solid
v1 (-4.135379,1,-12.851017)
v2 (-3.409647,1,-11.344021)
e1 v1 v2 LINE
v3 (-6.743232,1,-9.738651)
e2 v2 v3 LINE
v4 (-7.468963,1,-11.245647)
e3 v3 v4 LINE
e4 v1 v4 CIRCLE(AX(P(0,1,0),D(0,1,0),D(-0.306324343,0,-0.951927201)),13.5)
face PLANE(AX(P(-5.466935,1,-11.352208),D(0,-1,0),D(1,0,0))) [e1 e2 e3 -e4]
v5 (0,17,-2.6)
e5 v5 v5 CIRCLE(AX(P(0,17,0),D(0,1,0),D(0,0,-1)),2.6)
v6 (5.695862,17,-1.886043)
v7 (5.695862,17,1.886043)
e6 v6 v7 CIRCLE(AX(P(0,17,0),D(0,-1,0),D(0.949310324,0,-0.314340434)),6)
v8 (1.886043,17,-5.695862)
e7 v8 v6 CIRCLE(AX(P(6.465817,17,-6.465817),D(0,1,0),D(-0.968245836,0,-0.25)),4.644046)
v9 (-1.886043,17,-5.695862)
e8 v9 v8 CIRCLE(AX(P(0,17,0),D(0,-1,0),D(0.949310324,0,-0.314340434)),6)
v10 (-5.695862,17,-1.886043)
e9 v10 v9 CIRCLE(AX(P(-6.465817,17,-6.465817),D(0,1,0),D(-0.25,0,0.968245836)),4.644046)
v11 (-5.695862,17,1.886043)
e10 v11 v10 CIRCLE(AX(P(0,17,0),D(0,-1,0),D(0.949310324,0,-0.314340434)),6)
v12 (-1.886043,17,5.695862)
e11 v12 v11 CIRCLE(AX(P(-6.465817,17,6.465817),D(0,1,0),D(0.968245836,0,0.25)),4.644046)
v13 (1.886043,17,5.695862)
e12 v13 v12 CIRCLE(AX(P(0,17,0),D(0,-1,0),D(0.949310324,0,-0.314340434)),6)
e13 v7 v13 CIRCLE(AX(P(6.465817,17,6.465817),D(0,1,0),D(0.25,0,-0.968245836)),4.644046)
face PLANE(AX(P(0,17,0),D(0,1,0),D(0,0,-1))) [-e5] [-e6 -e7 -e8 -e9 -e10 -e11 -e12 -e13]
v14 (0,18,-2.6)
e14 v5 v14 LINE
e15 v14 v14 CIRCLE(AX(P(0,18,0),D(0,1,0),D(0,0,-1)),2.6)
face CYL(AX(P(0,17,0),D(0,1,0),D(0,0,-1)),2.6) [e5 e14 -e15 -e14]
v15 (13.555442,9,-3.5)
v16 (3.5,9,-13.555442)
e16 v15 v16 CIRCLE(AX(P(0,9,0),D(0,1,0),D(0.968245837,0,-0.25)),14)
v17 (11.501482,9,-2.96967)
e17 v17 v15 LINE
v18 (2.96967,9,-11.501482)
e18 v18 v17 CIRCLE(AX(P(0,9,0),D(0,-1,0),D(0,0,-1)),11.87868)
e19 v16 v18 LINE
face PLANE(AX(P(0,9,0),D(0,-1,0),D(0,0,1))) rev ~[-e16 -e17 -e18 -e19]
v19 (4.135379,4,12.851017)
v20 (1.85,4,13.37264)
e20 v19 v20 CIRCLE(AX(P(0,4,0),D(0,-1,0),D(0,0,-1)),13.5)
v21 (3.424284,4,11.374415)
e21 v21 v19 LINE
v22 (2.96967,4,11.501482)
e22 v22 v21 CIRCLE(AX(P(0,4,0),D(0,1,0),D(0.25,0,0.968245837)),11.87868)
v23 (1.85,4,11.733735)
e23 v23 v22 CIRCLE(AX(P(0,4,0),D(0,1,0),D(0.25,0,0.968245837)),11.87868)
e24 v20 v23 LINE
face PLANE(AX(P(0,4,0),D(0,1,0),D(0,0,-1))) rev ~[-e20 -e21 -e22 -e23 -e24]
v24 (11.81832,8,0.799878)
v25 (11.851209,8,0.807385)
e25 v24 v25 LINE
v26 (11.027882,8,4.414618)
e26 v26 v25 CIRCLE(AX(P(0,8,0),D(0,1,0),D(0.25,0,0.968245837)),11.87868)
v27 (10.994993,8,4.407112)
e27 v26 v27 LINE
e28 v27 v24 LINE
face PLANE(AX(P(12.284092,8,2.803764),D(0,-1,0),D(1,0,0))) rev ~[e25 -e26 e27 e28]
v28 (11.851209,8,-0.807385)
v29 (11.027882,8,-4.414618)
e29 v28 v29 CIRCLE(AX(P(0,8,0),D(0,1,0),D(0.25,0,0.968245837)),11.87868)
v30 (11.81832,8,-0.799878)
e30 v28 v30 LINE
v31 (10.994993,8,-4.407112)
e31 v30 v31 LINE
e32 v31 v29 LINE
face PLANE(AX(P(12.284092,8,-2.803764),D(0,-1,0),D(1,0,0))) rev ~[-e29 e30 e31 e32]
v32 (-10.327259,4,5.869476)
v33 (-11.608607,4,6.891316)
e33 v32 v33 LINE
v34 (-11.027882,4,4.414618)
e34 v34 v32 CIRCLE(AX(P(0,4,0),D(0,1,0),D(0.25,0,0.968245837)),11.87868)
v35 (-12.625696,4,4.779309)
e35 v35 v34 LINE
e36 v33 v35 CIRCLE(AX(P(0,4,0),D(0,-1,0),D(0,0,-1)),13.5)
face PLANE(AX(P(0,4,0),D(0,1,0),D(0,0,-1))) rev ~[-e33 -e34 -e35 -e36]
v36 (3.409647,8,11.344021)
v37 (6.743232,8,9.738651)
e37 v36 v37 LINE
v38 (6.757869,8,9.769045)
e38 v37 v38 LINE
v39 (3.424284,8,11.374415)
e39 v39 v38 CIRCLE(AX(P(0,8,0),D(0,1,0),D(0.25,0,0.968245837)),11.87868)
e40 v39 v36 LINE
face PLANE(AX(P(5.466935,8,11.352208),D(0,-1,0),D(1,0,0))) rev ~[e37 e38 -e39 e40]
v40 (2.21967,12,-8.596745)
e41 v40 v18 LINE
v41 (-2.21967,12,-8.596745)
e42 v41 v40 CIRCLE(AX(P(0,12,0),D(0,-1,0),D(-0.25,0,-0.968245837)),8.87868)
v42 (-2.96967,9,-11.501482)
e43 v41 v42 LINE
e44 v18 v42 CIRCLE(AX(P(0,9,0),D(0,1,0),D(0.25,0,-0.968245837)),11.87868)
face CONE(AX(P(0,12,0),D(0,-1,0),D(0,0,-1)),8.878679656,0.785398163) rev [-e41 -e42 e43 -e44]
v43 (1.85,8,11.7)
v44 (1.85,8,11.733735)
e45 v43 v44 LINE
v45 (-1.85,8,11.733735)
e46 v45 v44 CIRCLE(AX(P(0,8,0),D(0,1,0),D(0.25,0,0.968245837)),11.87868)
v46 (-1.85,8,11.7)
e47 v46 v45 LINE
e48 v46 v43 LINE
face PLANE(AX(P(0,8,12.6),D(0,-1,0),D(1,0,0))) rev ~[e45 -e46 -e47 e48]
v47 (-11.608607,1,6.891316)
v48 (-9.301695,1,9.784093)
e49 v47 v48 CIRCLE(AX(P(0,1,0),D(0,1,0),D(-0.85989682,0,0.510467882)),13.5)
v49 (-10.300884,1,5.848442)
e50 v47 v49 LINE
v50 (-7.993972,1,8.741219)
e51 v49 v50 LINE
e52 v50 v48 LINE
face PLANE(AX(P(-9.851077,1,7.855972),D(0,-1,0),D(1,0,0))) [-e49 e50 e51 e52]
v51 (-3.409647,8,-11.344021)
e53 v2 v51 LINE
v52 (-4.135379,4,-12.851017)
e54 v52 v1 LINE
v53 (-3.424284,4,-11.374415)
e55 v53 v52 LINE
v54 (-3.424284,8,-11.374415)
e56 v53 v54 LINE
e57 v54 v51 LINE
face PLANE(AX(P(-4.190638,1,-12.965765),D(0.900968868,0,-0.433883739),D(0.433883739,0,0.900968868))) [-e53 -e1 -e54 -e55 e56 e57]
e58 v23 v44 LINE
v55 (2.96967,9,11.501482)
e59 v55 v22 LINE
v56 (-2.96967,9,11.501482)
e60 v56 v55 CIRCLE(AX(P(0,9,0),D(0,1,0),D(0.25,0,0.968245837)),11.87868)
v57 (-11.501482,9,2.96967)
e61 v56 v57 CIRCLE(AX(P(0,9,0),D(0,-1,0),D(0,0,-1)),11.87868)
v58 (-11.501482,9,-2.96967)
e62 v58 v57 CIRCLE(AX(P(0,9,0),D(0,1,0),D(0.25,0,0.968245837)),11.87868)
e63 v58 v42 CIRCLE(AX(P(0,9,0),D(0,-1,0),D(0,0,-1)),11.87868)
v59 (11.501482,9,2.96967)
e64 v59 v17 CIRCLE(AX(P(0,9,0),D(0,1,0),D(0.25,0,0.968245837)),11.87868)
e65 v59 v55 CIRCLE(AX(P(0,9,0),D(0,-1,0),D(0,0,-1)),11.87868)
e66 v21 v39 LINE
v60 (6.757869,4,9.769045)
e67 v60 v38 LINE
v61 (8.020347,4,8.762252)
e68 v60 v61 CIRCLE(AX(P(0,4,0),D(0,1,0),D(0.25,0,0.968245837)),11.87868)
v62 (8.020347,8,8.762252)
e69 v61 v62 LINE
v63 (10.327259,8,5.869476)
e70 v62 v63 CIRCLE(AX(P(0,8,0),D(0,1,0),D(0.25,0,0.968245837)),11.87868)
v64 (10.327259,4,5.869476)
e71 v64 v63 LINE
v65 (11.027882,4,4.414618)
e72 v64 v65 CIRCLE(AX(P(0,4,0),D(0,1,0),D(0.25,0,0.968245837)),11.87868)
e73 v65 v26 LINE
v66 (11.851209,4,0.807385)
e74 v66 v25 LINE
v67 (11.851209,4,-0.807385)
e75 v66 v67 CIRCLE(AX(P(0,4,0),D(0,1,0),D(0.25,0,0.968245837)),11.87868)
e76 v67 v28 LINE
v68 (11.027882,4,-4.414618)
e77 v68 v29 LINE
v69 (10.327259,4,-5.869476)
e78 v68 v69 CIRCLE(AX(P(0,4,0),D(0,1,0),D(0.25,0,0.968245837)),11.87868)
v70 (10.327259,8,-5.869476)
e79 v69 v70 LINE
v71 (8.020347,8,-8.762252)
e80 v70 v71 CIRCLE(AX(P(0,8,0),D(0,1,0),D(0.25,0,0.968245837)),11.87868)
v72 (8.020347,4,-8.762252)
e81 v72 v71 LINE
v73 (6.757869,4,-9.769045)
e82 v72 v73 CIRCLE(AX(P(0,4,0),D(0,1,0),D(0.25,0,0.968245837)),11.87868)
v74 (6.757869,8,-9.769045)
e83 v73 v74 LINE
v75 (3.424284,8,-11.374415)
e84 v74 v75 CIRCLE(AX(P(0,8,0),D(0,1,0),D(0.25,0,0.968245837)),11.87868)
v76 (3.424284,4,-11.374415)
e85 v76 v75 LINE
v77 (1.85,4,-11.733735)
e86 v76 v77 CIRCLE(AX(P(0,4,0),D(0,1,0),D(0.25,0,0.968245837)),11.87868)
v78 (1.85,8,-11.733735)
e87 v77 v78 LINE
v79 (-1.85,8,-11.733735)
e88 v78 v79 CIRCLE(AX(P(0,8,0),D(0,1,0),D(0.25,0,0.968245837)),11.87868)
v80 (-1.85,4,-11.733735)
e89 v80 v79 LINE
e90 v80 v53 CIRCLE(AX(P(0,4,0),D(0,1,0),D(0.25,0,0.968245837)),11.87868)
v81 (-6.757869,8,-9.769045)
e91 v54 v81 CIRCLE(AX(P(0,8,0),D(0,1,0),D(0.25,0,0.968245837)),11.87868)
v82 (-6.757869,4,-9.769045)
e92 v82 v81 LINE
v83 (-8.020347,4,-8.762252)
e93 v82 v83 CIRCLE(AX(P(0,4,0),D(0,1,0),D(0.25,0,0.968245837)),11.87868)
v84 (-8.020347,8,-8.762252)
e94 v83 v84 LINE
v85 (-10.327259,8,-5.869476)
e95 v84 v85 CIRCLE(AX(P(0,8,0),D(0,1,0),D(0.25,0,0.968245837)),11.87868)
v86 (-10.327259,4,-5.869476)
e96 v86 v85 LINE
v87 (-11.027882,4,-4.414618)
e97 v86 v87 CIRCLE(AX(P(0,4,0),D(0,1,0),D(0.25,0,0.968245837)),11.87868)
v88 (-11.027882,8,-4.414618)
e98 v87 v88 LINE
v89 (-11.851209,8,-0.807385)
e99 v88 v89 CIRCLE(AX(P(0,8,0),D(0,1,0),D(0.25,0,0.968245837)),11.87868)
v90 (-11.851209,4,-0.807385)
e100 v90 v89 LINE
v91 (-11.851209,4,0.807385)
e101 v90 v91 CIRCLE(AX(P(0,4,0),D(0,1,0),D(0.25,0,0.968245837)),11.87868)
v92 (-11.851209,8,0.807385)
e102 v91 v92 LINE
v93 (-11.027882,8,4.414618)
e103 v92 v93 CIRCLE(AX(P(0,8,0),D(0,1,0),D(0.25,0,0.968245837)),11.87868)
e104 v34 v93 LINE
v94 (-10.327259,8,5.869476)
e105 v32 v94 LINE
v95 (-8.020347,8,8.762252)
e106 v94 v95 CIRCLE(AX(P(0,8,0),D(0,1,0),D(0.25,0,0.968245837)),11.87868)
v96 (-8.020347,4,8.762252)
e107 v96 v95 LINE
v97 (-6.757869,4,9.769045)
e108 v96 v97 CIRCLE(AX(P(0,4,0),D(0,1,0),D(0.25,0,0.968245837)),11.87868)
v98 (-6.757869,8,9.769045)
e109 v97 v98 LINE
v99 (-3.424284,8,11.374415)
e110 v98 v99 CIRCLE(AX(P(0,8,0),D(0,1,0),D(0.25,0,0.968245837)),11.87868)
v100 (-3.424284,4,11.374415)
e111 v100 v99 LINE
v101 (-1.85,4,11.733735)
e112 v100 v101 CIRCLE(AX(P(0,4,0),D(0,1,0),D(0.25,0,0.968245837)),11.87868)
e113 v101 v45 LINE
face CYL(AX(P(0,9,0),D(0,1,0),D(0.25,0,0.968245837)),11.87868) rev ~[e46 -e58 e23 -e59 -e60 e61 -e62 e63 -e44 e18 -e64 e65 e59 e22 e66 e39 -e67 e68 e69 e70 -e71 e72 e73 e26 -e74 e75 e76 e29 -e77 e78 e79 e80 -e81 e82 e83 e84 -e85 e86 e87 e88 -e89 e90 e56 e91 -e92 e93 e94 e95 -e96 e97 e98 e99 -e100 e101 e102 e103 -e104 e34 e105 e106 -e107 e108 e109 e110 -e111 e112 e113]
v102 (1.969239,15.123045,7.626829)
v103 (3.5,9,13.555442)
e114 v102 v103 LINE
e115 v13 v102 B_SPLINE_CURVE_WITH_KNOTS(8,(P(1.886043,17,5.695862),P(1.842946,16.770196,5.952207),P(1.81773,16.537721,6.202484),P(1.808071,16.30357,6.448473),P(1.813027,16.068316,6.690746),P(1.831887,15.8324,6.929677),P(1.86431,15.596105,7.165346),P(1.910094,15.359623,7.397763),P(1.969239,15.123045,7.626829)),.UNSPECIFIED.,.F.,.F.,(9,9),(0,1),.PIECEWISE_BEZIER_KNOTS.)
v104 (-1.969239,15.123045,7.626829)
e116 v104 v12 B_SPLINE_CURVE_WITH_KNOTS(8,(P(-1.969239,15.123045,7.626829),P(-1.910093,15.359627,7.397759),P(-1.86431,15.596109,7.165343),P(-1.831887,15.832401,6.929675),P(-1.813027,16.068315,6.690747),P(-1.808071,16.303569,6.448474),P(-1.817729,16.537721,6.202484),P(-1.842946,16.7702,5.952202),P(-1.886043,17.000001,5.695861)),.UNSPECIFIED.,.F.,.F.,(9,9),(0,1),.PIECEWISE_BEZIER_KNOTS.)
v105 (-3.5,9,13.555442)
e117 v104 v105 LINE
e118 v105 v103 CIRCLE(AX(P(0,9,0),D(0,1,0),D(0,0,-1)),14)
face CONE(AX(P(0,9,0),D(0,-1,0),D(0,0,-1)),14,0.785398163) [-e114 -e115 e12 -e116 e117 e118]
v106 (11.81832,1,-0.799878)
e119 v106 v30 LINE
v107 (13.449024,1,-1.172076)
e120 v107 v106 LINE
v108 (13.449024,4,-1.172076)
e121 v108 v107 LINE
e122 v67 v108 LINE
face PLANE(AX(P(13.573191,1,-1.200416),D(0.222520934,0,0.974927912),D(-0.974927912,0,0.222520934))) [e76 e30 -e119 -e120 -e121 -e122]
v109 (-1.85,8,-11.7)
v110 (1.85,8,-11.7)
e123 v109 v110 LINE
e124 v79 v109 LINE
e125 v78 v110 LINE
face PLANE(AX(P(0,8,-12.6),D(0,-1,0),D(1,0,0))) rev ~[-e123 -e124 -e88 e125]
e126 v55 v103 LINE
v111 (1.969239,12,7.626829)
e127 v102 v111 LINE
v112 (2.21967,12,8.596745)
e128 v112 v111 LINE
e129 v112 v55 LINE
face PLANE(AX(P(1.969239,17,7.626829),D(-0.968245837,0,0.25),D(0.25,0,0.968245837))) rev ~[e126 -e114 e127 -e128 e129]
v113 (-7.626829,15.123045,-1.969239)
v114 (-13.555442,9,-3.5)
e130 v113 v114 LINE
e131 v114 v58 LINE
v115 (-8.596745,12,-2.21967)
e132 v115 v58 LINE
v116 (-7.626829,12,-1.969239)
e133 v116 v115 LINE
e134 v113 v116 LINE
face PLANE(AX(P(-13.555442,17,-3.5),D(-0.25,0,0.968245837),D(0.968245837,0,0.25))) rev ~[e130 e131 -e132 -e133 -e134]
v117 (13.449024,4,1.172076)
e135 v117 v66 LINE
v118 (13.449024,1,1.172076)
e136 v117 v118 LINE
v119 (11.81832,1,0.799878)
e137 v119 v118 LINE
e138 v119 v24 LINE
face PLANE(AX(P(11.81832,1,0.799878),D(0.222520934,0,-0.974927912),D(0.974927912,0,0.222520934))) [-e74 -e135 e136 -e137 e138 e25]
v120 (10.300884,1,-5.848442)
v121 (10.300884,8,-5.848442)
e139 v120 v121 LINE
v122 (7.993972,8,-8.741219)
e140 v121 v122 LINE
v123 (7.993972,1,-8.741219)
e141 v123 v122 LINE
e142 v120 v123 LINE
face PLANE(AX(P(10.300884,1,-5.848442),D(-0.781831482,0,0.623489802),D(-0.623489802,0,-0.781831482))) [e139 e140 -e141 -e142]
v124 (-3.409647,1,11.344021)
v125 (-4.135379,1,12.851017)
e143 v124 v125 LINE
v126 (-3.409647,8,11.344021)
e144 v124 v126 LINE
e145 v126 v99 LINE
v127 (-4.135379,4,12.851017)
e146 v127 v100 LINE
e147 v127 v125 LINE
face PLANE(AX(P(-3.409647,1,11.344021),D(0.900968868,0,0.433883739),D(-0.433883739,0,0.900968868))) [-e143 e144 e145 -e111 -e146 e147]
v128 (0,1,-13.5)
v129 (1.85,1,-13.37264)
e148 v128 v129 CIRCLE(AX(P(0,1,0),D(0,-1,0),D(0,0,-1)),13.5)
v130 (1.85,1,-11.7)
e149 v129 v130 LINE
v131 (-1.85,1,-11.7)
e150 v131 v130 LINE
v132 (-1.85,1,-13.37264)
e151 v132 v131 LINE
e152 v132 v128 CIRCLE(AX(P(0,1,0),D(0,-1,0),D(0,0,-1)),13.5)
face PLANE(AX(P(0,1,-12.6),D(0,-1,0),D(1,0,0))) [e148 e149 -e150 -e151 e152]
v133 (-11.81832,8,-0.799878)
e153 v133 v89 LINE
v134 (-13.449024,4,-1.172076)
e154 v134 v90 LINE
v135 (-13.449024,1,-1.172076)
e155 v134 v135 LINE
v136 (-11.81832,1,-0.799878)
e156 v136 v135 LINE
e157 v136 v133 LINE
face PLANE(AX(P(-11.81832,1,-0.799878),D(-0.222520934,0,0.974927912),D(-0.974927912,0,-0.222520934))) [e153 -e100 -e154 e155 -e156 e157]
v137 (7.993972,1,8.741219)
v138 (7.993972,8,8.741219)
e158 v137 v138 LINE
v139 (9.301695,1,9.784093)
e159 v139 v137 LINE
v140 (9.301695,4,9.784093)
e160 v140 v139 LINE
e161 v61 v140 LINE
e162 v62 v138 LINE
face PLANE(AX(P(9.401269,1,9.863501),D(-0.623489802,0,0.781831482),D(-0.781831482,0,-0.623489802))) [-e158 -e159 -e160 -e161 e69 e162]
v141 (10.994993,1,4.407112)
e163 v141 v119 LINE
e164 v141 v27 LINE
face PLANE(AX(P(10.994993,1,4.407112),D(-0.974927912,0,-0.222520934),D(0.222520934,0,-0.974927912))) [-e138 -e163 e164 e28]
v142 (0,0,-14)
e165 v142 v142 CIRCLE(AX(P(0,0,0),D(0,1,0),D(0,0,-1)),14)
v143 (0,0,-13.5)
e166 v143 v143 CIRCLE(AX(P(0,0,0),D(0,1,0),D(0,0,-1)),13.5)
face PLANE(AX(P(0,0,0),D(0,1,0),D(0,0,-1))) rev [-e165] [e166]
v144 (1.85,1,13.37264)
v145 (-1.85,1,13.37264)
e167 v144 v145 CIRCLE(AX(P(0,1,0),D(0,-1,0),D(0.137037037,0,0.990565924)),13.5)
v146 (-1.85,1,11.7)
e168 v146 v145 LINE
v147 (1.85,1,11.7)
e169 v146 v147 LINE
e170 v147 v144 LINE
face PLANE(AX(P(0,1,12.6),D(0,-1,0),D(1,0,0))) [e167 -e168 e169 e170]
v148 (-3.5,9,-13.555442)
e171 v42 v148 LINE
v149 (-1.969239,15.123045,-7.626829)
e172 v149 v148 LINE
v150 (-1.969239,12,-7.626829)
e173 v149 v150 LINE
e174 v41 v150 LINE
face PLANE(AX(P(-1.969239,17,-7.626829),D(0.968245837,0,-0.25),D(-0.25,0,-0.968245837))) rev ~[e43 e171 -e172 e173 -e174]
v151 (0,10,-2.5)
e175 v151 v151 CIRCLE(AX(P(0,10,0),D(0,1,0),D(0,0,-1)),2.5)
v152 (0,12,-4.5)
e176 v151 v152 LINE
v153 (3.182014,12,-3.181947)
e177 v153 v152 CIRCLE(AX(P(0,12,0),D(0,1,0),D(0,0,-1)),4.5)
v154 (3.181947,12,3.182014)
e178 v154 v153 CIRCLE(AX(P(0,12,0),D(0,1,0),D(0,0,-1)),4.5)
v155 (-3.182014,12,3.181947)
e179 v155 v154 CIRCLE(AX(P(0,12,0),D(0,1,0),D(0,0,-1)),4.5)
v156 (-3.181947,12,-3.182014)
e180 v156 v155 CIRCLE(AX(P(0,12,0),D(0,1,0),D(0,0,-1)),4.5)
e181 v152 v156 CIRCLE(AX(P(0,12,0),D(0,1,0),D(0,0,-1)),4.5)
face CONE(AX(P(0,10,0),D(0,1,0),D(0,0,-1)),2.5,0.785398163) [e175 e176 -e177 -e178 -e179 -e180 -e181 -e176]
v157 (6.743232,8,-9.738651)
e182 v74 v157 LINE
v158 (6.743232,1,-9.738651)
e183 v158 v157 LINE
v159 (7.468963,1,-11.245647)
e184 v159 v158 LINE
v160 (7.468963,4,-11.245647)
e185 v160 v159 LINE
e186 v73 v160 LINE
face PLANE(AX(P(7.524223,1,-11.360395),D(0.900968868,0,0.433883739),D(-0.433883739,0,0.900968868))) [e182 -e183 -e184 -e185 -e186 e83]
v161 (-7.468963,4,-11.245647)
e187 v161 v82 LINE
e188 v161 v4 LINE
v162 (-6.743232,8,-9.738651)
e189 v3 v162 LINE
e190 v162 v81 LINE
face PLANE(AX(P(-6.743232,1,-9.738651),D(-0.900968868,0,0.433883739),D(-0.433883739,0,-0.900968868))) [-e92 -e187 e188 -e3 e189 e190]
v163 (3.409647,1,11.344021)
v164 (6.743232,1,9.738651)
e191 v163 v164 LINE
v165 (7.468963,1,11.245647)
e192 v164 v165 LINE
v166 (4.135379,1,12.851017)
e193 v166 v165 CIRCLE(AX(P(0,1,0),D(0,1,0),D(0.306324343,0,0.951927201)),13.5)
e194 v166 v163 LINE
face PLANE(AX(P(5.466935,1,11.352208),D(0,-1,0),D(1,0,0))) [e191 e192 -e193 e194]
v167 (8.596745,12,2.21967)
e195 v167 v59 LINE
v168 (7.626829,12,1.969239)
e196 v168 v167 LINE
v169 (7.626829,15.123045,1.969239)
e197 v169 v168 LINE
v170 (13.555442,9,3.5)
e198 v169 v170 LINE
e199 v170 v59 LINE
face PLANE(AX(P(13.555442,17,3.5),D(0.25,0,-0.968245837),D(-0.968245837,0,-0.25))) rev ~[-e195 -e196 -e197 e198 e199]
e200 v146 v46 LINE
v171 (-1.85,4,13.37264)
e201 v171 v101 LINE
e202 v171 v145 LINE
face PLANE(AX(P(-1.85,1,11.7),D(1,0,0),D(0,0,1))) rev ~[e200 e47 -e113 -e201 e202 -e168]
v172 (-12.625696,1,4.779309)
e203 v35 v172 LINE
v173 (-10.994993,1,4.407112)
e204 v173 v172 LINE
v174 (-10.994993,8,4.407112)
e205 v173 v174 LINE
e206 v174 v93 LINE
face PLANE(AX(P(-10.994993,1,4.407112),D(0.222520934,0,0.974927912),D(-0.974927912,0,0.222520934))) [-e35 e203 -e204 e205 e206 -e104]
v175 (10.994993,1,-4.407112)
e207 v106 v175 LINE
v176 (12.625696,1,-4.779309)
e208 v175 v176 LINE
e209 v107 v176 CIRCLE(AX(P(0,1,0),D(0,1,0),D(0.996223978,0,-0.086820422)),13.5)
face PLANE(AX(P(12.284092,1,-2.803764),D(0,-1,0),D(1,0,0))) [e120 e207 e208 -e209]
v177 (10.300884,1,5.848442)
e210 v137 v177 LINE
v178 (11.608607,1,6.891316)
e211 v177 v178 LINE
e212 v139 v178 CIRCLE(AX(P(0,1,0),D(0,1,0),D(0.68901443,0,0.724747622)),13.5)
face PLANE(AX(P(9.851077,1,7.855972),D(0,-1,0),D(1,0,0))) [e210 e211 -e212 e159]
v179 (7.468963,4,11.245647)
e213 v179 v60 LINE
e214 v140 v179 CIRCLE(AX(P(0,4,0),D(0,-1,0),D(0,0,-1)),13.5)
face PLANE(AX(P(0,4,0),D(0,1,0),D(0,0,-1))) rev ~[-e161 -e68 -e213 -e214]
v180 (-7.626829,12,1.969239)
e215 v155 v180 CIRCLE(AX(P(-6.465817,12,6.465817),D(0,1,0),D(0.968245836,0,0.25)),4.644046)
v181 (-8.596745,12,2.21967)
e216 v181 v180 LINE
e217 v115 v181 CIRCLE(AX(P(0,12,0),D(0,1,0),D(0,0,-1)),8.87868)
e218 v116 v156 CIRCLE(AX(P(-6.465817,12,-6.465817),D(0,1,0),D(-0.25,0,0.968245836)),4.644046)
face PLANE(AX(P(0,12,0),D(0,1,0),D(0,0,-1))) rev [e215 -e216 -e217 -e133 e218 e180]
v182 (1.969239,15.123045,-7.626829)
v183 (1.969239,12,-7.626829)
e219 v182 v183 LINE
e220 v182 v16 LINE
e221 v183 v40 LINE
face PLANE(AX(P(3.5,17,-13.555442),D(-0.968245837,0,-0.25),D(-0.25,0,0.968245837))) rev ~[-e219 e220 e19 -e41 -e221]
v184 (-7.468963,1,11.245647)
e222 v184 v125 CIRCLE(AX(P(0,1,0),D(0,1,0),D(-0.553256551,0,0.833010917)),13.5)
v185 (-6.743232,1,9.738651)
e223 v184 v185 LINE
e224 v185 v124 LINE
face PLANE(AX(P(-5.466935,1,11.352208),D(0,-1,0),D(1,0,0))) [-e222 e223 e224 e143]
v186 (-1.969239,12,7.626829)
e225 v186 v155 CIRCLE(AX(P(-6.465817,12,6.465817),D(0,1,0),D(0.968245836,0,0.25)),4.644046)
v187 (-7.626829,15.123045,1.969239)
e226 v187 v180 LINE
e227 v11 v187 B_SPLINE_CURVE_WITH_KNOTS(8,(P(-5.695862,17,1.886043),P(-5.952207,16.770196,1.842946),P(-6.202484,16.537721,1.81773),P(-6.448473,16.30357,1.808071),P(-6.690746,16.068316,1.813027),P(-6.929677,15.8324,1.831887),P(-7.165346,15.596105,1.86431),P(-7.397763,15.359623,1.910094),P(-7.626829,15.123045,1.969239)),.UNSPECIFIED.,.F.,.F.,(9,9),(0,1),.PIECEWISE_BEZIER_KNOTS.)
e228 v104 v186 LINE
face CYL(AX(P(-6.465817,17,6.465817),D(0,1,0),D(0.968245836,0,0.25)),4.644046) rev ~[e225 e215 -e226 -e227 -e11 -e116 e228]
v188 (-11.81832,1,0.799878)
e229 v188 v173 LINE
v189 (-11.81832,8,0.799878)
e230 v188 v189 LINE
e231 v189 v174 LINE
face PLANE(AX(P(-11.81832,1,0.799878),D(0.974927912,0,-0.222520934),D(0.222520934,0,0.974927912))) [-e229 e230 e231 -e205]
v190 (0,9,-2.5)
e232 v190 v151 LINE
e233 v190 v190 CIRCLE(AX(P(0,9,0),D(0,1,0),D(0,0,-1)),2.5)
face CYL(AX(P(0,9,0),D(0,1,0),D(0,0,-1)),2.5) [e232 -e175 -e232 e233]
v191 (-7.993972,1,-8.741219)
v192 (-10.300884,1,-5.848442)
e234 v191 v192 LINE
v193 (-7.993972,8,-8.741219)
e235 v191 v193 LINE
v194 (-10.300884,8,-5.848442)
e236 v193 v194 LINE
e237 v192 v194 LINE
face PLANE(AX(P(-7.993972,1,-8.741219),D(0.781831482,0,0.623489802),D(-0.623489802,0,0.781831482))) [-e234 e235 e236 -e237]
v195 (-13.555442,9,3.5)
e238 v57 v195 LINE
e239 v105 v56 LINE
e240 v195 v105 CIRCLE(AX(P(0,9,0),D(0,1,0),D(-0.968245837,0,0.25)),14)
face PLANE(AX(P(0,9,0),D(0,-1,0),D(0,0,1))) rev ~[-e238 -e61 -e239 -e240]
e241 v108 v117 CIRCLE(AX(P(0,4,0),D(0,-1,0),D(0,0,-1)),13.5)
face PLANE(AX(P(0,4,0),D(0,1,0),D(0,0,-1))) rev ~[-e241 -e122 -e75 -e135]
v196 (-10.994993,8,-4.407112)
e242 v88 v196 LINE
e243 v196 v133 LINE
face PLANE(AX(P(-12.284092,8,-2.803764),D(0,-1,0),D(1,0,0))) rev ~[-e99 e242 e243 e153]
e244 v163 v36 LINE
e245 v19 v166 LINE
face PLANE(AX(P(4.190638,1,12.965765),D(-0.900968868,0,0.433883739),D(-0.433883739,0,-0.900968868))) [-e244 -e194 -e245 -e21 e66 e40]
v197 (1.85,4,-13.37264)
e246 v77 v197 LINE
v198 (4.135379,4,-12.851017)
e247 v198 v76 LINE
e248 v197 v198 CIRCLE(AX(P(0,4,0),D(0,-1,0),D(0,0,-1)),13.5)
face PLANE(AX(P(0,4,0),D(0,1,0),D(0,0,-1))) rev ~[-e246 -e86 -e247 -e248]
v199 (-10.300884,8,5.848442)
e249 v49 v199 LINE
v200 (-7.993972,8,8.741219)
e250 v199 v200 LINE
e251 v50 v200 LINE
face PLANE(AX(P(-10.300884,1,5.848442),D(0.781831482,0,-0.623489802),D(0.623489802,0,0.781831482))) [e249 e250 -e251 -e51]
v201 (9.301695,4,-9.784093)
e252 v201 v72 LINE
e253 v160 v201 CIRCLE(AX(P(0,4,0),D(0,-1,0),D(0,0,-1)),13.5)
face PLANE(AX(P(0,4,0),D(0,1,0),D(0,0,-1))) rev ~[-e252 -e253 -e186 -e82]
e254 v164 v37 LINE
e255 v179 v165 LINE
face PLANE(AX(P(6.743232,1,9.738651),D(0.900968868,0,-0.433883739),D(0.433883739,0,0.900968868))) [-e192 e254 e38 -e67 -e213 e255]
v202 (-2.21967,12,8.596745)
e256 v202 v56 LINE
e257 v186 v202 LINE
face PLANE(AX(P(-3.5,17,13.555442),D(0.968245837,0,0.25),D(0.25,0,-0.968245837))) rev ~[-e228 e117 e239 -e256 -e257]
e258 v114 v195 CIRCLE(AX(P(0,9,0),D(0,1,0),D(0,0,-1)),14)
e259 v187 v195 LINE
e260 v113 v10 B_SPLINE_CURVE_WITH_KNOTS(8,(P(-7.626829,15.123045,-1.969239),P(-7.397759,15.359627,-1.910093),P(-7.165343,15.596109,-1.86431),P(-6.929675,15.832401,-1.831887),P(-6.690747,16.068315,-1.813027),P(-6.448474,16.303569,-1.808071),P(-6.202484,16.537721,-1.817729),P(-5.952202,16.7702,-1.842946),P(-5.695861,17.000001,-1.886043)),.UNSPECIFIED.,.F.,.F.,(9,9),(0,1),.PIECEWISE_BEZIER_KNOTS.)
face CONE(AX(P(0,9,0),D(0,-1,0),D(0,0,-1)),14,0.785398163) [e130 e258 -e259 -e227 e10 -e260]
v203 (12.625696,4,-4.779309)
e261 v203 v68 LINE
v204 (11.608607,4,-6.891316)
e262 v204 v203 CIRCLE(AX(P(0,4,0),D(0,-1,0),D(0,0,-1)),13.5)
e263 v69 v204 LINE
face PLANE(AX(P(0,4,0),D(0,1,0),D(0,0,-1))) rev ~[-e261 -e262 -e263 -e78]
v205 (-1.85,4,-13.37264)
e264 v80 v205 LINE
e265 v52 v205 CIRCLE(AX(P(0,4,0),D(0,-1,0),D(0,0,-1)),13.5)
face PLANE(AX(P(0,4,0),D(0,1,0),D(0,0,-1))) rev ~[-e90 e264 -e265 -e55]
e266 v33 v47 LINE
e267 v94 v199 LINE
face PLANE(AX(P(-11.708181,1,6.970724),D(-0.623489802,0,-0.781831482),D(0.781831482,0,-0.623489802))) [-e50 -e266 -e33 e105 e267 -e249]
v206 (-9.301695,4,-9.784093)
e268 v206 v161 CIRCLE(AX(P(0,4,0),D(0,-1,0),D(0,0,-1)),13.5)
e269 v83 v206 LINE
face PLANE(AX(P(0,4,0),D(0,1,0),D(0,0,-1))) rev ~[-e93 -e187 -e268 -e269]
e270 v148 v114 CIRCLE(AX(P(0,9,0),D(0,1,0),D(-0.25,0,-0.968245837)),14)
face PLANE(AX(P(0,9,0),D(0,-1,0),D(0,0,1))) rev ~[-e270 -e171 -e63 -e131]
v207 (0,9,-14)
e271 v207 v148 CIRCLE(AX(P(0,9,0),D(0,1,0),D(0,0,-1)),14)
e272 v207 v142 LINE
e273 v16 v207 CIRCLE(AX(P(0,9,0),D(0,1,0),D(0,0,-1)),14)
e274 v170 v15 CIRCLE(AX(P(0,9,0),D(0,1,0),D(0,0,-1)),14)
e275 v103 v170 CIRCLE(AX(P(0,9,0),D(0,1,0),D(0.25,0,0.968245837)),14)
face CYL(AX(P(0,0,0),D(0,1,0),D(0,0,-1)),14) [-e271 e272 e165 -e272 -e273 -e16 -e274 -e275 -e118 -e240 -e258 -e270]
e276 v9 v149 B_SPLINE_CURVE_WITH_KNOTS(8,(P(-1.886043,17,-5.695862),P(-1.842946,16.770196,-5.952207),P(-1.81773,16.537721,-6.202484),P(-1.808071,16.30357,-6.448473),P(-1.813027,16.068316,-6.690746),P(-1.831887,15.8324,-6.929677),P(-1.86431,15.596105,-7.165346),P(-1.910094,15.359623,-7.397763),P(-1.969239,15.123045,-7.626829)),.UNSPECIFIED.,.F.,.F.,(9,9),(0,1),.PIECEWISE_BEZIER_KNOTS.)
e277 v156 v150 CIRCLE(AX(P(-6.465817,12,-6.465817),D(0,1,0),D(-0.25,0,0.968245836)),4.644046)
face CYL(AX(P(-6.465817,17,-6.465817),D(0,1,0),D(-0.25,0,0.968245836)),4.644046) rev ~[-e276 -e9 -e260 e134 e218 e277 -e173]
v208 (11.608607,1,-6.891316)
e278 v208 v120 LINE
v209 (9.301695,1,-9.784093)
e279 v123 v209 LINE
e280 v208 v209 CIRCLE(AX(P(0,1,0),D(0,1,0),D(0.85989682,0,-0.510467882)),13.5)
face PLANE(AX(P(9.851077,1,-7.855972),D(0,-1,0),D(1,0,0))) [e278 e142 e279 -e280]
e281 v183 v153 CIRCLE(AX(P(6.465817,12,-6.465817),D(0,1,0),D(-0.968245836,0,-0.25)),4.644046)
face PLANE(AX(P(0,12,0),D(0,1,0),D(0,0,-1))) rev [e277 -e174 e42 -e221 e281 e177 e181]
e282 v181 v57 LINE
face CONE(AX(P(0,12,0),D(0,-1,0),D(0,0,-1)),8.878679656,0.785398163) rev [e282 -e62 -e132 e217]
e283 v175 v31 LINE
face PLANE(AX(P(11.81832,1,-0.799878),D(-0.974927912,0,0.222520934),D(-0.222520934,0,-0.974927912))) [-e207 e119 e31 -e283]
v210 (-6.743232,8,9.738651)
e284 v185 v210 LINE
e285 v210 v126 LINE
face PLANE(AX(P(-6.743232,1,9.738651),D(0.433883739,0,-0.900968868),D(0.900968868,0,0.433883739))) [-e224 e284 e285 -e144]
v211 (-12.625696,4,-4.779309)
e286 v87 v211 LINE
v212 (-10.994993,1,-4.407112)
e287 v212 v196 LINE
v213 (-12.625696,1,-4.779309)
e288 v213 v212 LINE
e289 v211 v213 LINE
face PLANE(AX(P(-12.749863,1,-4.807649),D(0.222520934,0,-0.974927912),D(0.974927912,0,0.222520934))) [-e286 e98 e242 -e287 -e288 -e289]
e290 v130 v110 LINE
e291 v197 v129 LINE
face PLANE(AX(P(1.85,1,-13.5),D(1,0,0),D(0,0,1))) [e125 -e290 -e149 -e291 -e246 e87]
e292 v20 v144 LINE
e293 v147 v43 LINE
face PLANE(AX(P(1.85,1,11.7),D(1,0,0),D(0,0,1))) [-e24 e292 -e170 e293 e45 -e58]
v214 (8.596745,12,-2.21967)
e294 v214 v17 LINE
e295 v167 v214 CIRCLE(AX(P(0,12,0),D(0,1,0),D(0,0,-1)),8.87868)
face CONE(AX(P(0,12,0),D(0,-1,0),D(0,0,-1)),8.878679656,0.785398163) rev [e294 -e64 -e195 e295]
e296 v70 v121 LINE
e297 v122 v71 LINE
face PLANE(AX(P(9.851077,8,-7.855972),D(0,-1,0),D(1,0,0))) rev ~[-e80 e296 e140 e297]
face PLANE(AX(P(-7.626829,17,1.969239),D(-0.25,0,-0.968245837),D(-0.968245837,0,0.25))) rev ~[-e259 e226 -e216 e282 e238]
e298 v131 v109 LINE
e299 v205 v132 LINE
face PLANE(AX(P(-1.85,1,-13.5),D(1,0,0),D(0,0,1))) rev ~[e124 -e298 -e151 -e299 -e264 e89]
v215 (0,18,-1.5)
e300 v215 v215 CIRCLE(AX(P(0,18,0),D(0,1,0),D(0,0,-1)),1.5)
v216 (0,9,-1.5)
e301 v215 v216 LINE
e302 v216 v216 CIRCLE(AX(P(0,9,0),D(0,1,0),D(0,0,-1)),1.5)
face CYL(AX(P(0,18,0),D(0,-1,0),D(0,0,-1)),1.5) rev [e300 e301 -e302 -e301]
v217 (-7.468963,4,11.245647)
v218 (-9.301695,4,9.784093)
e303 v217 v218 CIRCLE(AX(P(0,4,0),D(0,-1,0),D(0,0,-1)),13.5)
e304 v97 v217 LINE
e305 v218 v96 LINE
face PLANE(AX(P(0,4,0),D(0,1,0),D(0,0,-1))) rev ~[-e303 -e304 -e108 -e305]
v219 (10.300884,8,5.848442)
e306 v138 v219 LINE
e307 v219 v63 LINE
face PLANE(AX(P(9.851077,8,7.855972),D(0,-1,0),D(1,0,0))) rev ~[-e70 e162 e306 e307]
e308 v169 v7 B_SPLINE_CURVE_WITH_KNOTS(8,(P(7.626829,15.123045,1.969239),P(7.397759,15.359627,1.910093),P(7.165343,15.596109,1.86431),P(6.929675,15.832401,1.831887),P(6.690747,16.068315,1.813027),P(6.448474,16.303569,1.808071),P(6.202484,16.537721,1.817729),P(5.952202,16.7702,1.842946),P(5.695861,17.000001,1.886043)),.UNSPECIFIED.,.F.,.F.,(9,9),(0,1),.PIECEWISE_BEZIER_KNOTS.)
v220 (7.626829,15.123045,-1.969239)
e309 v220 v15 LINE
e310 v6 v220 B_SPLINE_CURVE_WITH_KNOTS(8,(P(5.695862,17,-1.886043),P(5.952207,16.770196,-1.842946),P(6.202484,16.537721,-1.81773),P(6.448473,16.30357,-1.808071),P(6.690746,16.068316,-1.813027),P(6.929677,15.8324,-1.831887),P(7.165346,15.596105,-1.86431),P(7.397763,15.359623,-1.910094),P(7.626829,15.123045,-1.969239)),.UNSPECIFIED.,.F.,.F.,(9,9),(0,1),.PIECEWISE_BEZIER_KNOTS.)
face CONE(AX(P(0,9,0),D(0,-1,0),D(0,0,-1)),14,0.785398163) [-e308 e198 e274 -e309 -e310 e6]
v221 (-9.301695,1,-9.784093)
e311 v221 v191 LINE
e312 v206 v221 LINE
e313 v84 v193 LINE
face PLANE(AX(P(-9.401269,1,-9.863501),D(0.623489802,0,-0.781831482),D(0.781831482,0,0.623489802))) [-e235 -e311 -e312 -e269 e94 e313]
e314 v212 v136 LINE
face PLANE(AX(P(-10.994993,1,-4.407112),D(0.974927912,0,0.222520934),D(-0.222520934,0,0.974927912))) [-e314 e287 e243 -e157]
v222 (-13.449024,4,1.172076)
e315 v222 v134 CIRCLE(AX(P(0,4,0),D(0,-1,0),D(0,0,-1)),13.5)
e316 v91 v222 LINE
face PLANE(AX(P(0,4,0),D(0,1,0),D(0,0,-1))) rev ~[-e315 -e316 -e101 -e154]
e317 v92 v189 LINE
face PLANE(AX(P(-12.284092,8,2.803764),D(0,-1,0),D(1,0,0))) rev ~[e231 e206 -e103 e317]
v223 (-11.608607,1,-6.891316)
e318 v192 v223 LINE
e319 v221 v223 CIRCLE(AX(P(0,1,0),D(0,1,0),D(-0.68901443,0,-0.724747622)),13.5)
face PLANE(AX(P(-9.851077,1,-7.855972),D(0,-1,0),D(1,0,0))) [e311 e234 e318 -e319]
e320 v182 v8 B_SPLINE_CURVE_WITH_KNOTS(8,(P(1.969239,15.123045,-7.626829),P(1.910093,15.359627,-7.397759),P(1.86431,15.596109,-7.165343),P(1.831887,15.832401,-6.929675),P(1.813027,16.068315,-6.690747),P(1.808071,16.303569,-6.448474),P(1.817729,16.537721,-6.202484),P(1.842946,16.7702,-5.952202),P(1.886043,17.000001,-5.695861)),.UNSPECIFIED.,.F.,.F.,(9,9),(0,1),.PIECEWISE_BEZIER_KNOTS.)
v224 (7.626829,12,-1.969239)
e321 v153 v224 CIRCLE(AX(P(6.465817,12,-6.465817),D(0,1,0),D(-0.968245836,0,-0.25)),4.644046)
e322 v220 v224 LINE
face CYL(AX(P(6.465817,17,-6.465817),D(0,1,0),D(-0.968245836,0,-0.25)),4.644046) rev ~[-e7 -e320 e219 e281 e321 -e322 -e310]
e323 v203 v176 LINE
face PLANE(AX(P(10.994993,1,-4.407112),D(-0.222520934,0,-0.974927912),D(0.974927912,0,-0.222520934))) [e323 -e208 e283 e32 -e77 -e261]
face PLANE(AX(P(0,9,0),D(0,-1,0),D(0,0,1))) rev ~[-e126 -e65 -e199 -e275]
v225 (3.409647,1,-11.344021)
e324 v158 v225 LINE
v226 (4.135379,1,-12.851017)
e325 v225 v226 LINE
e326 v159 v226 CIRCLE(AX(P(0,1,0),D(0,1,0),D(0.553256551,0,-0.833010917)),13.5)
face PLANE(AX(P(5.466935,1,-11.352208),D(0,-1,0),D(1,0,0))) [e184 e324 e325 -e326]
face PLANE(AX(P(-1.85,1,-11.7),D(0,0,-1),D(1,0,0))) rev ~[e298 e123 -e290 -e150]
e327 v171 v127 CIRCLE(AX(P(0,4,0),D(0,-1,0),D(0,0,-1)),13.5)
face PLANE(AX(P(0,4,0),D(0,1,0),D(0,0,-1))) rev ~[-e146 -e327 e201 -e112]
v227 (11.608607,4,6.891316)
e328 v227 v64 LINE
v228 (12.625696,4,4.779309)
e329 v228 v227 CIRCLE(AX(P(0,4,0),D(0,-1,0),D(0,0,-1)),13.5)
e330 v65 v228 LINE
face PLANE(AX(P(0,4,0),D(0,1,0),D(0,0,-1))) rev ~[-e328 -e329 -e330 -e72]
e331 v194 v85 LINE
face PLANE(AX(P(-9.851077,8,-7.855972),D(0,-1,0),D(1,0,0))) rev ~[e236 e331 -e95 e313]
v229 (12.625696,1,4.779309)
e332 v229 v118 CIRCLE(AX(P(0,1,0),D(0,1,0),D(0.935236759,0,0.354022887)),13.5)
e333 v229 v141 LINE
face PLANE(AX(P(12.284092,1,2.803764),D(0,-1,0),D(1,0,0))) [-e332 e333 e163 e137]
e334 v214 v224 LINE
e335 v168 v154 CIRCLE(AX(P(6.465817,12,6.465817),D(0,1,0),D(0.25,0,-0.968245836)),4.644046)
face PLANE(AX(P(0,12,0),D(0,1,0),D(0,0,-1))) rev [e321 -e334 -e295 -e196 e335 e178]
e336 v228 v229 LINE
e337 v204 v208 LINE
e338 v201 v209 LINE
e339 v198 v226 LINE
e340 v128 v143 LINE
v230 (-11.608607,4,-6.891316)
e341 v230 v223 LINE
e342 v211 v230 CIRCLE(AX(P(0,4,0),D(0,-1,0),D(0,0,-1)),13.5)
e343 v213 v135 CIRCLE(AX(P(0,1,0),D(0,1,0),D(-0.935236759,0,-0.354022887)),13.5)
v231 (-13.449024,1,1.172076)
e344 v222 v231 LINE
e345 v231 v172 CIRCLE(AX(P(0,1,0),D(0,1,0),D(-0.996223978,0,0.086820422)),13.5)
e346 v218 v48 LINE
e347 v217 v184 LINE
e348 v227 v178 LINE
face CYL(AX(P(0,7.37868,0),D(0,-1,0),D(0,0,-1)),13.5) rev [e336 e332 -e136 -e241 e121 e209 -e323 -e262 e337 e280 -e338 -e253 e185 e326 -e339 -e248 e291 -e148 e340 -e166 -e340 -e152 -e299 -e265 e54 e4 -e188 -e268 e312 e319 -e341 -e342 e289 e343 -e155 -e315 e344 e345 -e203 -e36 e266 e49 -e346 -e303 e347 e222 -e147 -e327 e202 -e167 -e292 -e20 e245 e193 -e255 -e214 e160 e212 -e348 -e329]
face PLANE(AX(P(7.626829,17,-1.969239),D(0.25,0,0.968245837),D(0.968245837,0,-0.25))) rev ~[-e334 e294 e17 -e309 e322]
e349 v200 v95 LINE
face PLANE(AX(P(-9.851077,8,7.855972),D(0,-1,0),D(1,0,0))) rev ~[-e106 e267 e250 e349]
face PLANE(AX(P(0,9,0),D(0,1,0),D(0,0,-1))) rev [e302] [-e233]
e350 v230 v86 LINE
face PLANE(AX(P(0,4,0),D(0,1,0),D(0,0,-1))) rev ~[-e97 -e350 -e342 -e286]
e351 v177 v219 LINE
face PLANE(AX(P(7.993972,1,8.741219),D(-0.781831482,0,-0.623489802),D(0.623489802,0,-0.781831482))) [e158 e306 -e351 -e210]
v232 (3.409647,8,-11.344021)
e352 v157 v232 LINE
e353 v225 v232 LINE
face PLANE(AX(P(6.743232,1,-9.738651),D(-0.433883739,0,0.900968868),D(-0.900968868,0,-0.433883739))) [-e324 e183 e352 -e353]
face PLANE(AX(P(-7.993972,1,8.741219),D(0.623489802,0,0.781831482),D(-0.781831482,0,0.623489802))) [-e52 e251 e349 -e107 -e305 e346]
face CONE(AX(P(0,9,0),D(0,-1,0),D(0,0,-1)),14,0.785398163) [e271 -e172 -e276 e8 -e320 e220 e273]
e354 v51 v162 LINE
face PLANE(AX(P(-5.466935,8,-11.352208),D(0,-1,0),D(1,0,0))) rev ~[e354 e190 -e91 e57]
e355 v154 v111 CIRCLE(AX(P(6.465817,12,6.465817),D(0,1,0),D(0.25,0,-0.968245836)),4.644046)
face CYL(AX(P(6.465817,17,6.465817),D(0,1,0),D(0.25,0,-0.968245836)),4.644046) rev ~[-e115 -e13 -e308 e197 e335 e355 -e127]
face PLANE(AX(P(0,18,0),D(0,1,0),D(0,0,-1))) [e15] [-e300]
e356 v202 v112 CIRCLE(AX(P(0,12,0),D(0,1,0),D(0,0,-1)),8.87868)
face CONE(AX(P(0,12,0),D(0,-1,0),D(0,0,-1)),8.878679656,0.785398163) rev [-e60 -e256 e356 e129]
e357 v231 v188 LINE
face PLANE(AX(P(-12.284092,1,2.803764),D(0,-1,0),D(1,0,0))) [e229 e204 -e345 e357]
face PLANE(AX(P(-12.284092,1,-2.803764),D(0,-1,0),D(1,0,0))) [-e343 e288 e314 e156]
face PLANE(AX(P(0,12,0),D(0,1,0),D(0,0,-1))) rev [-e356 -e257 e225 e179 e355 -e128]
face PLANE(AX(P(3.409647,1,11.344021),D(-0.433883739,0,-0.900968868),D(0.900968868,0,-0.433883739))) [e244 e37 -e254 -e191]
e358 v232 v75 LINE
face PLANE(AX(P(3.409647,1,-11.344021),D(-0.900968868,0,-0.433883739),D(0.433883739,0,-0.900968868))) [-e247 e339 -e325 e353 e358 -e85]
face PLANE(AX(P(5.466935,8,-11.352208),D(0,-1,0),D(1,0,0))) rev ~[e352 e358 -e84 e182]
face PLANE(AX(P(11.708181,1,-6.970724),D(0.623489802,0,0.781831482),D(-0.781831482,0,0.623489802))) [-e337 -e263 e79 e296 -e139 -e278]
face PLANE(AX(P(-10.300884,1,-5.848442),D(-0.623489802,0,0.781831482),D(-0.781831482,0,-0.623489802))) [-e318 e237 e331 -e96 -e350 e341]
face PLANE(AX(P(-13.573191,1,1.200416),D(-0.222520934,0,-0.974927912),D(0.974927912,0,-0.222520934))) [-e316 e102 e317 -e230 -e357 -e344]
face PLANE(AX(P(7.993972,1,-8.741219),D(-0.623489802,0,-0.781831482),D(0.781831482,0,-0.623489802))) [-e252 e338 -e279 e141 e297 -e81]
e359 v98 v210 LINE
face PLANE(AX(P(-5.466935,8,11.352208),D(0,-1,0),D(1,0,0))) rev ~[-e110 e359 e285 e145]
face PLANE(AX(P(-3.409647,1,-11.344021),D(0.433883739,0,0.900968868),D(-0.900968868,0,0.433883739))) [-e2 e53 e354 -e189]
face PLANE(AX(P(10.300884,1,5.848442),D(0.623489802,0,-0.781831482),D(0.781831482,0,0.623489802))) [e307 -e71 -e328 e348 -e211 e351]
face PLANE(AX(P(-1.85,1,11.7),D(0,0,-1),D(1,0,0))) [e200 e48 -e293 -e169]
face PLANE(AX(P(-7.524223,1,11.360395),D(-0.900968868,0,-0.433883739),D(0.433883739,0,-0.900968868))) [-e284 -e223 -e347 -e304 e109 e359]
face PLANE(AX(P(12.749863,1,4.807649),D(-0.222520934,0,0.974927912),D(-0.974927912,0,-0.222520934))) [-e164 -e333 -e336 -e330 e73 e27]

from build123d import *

# Parameters (mm, degrees)
CUT_EXTRUDE1_REACH  = 28.096
SKETCH5_R           = 14
SKETCH5_R_2         = 11.878679656
BOSS_EXTRUDE2_DEPTH = 5
BOSS_EXTRUDE3_START = -1
SKETCH3_W           = 3.7
SKETCH3_H           = 1.8
BOSS_EXTRUDE3_DEPTH = 7


with BuildPart() as part:
    # Sketch1 → Revolve1 (revolve)
    with BuildSketch(Plane.XY, mode=Mode.PRIVATE) as revolve1_sk:
        Polygon((14, 0), (14, 9), (6, 17), (2.6, 17), (2.6, 18), (1.5, 18), (1.5, 9), (2.5, 9), (2.5, 10), (4.5, 12), (8.878679656, 12), (13.5, 7.378679656), (13.5, 0), align=None)
    revolve(revolve1_sk.sketch.rotate(Axis((0, 0, 0), (0, 1, 0)), 90), axis=Axis((0, 0, 0), (0, 1, 0)))

    # Cut-Extrude1: up to this face of the body (flat: up to its plane)
    cut_extrude1_end = Plane(part.part.faces().sort_by_distance((0, 9, 1.570710678))[0])
    # Sketch2 → Cut-Extrude1 (cut, up to the picked face)
    with BuildSketch(Plane(origin=(0, 17, 0), x_dir=(1, 0, 0), z_dir=(0, 1, 0)), mode=Mode.PRIVATE) as cut_extrude1_sk1:
        with BuildLine():
            Line((3.5, 13.555441712), (1.969238681, 7.626828615))
            ThreePointArc((1.969238681, 7.626828615), (3.181980515, 3.181980515), (7.626828615, 1.969238681))
            Line((7.626828615, 1.969238681), (13.555441712, 3.5))
            ThreePointArc((13.555441712, 3.5), (9.899494937, 9.899494937), (3.5, 13.555441712))
        make_face()
    cut_extrude1_tool1 = split(extrude(cut_extrude1_sk1.sketch, amount=-CUT_EXTRUDE1_REACH, mode=Mode.PRIVATE), bisect_by=cut_extrude1_end, keep=Keep.BOTH, mode=Mode.PRIVATE)
    # Sketch2 → Cut-Extrude1 (cut, up to the picked face)
    with BuildSketch(Plane(origin=(0, 17, 0), x_dir=(1, 0, 0), z_dir=(0, 1, 0)), mode=Mode.PRIVATE) as cut_extrude1_sk2:
        with BuildLine():
            Line((13.555441712, -3.5), (7.626828615, -1.969238681))
            ThreePointArc((7.626828615, -1.969238681), (3.181980515, -3.181980515), (1.969238681, -7.626828615))
            Line((1.969238681, -7.626828615), (3.5, -13.555441712))
            ThreePointArc((3.5, -13.555441712), (9.899494937, -9.899494937), (13.555441712, -3.5))
        make_face()
    cut_extrude1_tool2 = split(extrude(cut_extrude1_sk2.sketch, amount=-CUT_EXTRUDE1_REACH, mode=Mode.PRIVATE), bisect_by=cut_extrude1_end, keep=Keep.BOTH, mode=Mode.PRIVATE)
    # Sketch2 → Cut-Extrude1 (cut, up to the picked face)
    with BuildSketch(Plane(origin=(0, 17, 0), x_dir=(1, 0, 0), z_dir=(0, 1, 0)), mode=Mode.PRIVATE) as cut_extrude1_sk3:
        with BuildLine():
            Line((-3.5, -13.555441712), (-1.969238681, -7.626828615))
            ThreePointArc((-1.969238681, -7.626828615), (-3.181980515, -3.181980515), (-7.626828615, -1.969238681))
            Line((-7.626828615, -1.969238681), (-13.555441712, -3.5))
            ThreePointArc((-13.555441712, -3.5), (-9.899494937, -9.899494937), (-3.5, -13.555441712))
        make_face()
    cut_extrude1_tool3 = split(extrude(cut_extrude1_sk3.sketch, amount=-CUT_EXTRUDE1_REACH, mode=Mode.PRIVATE), bisect_by=cut_extrude1_end, keep=Keep.BOTH, mode=Mode.PRIVATE)
    # Sketch2 → Cut-Extrude1 (cut, up to the picked face)
    with BuildSketch(Plane(origin=(0, 17, 0), x_dir=(1, 0, 0), z_dir=(0, 1, 0)), mode=Mode.PRIVATE) as cut_extrude1_sk4:
        with BuildLine():
            Line((-13.555441712, 3.5), (-7.626828615, 1.969238681))
            ThreePointArc((-7.626828615, 1.969238681), (-3.181980515, 3.181980515), (-1.969238681, 7.626828615))
            Line((-1.969238681, 7.626828615), (-3.5, 13.555441712))
            ThreePointArc((-3.5, 13.555441712), (-9.899494937, 9.899494937), (-13.555441712, 3.5))
        make_face()
    cut_extrude1_tool4 = split(extrude(cut_extrude1_sk4.sketch, amount=-CUT_EXTRUDE1_REACH, mode=Mode.PRIVATE), bisect_by=cut_extrude1_end, keep=Keep.BOTH, mode=Mode.PRIVATE)
    add(cut_extrude1_tool1.solids().sort_by(Axis((6.913029, 17, -6.913029), (0, -1, 0)))[0], mode=Mode.SUBTRACT)
    add(cut_extrude1_tool2.solids().sort_by(Axis((6.913029, 17, 6.913029), (0, -1, 0)))[0], mode=Mode.SUBTRACT)
    add(cut_extrude1_tool3.solids().sort_by(Axis((-6.913029, 17, 6.913029), (0, -1, 0)))[0], mode=Mode.SUBTRACT)
    add(cut_extrude1_tool4.solids().sort_by(Axis((-6.913029, 17, -6.913029), (0, -1, 0)))[0], mode=Mode.SUBTRACT)

    # Sketch5 → Boss-Extrude2 (add)
    with BuildSketch(Plane(origin=(0, 9, 0), x_dir=(1, 0, 0), z_dir=(0, 1, 0))):
        with Locations(Location((0, 0, 0), (0, 0, 90))):
            Circle(SKETCH5_R)
        with Locations(Location((0, 0, 0), (0, 0, 284.477512186))):
            Circle(SKETCH5_R_2, mode=Mode.SUBTRACT)
    extrude(amount=-BOSS_EXTRUDE2_DEPTH)

    # Sketch3 → Boss-Extrude3 (add)
    with BuildSketch(Plane.XZ.offset(BOSS_EXTRUDE3_START)):
        with Locations((0, 12.6)):
            Rectangle(SKETCH3_W, SKETCH3_H)
        Polygon((3.409647342, 11.344020672), (6.743232153, 9.738650837), (7.524222884, 11.360394799), (4.190638072, 12.965764634), align=None)
        Polygon((7.993972211, 8.741218924), (10.300884478, 5.848442439), (11.708181147, 6.970724083), (9.40126888, 9.863500568), align=None)
        Polygon((10.994992845, 4.407111565), (11.8183203, 0.79987829), (13.573190542, 1.200415971), (12.749863087, 4.807649246), align=None)
        Polygon((11.8183203, -0.79987829), (10.994992845, -4.407111565), (12.749863087, -4.807649246), (13.573190542, -1.200415971), align=None)
        Polygon((10.300884478, -5.848442439), (7.993972211, -8.741218924), (9.40126888, -9.863500568), (11.708181147, -6.970724083), align=None)
        Polygon((6.743232153, -9.738650837), (3.409647342, -11.344020672), (4.190638072, -12.965764634), (7.524222884, -11.360394799), align=None)
        with Locations((0, -12.6)):
            Rectangle(SKETCH3_W, SKETCH3_H)
        Polygon((-3.409647342, -11.344020672), (-6.743232153, -9.738650837), (-7.524222884, -11.360394799), (-4.190638072, -12.965764634), align=None)
        Polygon((-7.993972211, -8.741218924), (-10.300884478, -5.848442439), (-11.708181147, -6.970724083), (-9.40126888, -9.863500568), align=None)
        Polygon((-10.994992845, -4.407111565), (-11.8183203, -0.79987829), (-13.573190542, -1.200415971), (-12.749863087, -4.807649246), align=None)
        Polygon((-11.8183203, 0.79987829), (-10.994992845, 4.407111565), (-12.749863087, 4.807649246), (-13.573190542, 1.200415971), align=None)
        Polygon((-10.300884478, 5.848442439), (-7.993972211, 8.741218924), (-9.40126888, 9.863500568), (-11.708181147, 6.970724083), align=None)
        Polygon((-6.743232153, 9.738650837), (-3.409647342, 11.344020672), (-4.190638072, 12.965764634), (-7.524222884, 11.360394799), align=None)
    extrude(amount=-BOSS_EXTRUDE3_DEPTH)


solid = part.part
